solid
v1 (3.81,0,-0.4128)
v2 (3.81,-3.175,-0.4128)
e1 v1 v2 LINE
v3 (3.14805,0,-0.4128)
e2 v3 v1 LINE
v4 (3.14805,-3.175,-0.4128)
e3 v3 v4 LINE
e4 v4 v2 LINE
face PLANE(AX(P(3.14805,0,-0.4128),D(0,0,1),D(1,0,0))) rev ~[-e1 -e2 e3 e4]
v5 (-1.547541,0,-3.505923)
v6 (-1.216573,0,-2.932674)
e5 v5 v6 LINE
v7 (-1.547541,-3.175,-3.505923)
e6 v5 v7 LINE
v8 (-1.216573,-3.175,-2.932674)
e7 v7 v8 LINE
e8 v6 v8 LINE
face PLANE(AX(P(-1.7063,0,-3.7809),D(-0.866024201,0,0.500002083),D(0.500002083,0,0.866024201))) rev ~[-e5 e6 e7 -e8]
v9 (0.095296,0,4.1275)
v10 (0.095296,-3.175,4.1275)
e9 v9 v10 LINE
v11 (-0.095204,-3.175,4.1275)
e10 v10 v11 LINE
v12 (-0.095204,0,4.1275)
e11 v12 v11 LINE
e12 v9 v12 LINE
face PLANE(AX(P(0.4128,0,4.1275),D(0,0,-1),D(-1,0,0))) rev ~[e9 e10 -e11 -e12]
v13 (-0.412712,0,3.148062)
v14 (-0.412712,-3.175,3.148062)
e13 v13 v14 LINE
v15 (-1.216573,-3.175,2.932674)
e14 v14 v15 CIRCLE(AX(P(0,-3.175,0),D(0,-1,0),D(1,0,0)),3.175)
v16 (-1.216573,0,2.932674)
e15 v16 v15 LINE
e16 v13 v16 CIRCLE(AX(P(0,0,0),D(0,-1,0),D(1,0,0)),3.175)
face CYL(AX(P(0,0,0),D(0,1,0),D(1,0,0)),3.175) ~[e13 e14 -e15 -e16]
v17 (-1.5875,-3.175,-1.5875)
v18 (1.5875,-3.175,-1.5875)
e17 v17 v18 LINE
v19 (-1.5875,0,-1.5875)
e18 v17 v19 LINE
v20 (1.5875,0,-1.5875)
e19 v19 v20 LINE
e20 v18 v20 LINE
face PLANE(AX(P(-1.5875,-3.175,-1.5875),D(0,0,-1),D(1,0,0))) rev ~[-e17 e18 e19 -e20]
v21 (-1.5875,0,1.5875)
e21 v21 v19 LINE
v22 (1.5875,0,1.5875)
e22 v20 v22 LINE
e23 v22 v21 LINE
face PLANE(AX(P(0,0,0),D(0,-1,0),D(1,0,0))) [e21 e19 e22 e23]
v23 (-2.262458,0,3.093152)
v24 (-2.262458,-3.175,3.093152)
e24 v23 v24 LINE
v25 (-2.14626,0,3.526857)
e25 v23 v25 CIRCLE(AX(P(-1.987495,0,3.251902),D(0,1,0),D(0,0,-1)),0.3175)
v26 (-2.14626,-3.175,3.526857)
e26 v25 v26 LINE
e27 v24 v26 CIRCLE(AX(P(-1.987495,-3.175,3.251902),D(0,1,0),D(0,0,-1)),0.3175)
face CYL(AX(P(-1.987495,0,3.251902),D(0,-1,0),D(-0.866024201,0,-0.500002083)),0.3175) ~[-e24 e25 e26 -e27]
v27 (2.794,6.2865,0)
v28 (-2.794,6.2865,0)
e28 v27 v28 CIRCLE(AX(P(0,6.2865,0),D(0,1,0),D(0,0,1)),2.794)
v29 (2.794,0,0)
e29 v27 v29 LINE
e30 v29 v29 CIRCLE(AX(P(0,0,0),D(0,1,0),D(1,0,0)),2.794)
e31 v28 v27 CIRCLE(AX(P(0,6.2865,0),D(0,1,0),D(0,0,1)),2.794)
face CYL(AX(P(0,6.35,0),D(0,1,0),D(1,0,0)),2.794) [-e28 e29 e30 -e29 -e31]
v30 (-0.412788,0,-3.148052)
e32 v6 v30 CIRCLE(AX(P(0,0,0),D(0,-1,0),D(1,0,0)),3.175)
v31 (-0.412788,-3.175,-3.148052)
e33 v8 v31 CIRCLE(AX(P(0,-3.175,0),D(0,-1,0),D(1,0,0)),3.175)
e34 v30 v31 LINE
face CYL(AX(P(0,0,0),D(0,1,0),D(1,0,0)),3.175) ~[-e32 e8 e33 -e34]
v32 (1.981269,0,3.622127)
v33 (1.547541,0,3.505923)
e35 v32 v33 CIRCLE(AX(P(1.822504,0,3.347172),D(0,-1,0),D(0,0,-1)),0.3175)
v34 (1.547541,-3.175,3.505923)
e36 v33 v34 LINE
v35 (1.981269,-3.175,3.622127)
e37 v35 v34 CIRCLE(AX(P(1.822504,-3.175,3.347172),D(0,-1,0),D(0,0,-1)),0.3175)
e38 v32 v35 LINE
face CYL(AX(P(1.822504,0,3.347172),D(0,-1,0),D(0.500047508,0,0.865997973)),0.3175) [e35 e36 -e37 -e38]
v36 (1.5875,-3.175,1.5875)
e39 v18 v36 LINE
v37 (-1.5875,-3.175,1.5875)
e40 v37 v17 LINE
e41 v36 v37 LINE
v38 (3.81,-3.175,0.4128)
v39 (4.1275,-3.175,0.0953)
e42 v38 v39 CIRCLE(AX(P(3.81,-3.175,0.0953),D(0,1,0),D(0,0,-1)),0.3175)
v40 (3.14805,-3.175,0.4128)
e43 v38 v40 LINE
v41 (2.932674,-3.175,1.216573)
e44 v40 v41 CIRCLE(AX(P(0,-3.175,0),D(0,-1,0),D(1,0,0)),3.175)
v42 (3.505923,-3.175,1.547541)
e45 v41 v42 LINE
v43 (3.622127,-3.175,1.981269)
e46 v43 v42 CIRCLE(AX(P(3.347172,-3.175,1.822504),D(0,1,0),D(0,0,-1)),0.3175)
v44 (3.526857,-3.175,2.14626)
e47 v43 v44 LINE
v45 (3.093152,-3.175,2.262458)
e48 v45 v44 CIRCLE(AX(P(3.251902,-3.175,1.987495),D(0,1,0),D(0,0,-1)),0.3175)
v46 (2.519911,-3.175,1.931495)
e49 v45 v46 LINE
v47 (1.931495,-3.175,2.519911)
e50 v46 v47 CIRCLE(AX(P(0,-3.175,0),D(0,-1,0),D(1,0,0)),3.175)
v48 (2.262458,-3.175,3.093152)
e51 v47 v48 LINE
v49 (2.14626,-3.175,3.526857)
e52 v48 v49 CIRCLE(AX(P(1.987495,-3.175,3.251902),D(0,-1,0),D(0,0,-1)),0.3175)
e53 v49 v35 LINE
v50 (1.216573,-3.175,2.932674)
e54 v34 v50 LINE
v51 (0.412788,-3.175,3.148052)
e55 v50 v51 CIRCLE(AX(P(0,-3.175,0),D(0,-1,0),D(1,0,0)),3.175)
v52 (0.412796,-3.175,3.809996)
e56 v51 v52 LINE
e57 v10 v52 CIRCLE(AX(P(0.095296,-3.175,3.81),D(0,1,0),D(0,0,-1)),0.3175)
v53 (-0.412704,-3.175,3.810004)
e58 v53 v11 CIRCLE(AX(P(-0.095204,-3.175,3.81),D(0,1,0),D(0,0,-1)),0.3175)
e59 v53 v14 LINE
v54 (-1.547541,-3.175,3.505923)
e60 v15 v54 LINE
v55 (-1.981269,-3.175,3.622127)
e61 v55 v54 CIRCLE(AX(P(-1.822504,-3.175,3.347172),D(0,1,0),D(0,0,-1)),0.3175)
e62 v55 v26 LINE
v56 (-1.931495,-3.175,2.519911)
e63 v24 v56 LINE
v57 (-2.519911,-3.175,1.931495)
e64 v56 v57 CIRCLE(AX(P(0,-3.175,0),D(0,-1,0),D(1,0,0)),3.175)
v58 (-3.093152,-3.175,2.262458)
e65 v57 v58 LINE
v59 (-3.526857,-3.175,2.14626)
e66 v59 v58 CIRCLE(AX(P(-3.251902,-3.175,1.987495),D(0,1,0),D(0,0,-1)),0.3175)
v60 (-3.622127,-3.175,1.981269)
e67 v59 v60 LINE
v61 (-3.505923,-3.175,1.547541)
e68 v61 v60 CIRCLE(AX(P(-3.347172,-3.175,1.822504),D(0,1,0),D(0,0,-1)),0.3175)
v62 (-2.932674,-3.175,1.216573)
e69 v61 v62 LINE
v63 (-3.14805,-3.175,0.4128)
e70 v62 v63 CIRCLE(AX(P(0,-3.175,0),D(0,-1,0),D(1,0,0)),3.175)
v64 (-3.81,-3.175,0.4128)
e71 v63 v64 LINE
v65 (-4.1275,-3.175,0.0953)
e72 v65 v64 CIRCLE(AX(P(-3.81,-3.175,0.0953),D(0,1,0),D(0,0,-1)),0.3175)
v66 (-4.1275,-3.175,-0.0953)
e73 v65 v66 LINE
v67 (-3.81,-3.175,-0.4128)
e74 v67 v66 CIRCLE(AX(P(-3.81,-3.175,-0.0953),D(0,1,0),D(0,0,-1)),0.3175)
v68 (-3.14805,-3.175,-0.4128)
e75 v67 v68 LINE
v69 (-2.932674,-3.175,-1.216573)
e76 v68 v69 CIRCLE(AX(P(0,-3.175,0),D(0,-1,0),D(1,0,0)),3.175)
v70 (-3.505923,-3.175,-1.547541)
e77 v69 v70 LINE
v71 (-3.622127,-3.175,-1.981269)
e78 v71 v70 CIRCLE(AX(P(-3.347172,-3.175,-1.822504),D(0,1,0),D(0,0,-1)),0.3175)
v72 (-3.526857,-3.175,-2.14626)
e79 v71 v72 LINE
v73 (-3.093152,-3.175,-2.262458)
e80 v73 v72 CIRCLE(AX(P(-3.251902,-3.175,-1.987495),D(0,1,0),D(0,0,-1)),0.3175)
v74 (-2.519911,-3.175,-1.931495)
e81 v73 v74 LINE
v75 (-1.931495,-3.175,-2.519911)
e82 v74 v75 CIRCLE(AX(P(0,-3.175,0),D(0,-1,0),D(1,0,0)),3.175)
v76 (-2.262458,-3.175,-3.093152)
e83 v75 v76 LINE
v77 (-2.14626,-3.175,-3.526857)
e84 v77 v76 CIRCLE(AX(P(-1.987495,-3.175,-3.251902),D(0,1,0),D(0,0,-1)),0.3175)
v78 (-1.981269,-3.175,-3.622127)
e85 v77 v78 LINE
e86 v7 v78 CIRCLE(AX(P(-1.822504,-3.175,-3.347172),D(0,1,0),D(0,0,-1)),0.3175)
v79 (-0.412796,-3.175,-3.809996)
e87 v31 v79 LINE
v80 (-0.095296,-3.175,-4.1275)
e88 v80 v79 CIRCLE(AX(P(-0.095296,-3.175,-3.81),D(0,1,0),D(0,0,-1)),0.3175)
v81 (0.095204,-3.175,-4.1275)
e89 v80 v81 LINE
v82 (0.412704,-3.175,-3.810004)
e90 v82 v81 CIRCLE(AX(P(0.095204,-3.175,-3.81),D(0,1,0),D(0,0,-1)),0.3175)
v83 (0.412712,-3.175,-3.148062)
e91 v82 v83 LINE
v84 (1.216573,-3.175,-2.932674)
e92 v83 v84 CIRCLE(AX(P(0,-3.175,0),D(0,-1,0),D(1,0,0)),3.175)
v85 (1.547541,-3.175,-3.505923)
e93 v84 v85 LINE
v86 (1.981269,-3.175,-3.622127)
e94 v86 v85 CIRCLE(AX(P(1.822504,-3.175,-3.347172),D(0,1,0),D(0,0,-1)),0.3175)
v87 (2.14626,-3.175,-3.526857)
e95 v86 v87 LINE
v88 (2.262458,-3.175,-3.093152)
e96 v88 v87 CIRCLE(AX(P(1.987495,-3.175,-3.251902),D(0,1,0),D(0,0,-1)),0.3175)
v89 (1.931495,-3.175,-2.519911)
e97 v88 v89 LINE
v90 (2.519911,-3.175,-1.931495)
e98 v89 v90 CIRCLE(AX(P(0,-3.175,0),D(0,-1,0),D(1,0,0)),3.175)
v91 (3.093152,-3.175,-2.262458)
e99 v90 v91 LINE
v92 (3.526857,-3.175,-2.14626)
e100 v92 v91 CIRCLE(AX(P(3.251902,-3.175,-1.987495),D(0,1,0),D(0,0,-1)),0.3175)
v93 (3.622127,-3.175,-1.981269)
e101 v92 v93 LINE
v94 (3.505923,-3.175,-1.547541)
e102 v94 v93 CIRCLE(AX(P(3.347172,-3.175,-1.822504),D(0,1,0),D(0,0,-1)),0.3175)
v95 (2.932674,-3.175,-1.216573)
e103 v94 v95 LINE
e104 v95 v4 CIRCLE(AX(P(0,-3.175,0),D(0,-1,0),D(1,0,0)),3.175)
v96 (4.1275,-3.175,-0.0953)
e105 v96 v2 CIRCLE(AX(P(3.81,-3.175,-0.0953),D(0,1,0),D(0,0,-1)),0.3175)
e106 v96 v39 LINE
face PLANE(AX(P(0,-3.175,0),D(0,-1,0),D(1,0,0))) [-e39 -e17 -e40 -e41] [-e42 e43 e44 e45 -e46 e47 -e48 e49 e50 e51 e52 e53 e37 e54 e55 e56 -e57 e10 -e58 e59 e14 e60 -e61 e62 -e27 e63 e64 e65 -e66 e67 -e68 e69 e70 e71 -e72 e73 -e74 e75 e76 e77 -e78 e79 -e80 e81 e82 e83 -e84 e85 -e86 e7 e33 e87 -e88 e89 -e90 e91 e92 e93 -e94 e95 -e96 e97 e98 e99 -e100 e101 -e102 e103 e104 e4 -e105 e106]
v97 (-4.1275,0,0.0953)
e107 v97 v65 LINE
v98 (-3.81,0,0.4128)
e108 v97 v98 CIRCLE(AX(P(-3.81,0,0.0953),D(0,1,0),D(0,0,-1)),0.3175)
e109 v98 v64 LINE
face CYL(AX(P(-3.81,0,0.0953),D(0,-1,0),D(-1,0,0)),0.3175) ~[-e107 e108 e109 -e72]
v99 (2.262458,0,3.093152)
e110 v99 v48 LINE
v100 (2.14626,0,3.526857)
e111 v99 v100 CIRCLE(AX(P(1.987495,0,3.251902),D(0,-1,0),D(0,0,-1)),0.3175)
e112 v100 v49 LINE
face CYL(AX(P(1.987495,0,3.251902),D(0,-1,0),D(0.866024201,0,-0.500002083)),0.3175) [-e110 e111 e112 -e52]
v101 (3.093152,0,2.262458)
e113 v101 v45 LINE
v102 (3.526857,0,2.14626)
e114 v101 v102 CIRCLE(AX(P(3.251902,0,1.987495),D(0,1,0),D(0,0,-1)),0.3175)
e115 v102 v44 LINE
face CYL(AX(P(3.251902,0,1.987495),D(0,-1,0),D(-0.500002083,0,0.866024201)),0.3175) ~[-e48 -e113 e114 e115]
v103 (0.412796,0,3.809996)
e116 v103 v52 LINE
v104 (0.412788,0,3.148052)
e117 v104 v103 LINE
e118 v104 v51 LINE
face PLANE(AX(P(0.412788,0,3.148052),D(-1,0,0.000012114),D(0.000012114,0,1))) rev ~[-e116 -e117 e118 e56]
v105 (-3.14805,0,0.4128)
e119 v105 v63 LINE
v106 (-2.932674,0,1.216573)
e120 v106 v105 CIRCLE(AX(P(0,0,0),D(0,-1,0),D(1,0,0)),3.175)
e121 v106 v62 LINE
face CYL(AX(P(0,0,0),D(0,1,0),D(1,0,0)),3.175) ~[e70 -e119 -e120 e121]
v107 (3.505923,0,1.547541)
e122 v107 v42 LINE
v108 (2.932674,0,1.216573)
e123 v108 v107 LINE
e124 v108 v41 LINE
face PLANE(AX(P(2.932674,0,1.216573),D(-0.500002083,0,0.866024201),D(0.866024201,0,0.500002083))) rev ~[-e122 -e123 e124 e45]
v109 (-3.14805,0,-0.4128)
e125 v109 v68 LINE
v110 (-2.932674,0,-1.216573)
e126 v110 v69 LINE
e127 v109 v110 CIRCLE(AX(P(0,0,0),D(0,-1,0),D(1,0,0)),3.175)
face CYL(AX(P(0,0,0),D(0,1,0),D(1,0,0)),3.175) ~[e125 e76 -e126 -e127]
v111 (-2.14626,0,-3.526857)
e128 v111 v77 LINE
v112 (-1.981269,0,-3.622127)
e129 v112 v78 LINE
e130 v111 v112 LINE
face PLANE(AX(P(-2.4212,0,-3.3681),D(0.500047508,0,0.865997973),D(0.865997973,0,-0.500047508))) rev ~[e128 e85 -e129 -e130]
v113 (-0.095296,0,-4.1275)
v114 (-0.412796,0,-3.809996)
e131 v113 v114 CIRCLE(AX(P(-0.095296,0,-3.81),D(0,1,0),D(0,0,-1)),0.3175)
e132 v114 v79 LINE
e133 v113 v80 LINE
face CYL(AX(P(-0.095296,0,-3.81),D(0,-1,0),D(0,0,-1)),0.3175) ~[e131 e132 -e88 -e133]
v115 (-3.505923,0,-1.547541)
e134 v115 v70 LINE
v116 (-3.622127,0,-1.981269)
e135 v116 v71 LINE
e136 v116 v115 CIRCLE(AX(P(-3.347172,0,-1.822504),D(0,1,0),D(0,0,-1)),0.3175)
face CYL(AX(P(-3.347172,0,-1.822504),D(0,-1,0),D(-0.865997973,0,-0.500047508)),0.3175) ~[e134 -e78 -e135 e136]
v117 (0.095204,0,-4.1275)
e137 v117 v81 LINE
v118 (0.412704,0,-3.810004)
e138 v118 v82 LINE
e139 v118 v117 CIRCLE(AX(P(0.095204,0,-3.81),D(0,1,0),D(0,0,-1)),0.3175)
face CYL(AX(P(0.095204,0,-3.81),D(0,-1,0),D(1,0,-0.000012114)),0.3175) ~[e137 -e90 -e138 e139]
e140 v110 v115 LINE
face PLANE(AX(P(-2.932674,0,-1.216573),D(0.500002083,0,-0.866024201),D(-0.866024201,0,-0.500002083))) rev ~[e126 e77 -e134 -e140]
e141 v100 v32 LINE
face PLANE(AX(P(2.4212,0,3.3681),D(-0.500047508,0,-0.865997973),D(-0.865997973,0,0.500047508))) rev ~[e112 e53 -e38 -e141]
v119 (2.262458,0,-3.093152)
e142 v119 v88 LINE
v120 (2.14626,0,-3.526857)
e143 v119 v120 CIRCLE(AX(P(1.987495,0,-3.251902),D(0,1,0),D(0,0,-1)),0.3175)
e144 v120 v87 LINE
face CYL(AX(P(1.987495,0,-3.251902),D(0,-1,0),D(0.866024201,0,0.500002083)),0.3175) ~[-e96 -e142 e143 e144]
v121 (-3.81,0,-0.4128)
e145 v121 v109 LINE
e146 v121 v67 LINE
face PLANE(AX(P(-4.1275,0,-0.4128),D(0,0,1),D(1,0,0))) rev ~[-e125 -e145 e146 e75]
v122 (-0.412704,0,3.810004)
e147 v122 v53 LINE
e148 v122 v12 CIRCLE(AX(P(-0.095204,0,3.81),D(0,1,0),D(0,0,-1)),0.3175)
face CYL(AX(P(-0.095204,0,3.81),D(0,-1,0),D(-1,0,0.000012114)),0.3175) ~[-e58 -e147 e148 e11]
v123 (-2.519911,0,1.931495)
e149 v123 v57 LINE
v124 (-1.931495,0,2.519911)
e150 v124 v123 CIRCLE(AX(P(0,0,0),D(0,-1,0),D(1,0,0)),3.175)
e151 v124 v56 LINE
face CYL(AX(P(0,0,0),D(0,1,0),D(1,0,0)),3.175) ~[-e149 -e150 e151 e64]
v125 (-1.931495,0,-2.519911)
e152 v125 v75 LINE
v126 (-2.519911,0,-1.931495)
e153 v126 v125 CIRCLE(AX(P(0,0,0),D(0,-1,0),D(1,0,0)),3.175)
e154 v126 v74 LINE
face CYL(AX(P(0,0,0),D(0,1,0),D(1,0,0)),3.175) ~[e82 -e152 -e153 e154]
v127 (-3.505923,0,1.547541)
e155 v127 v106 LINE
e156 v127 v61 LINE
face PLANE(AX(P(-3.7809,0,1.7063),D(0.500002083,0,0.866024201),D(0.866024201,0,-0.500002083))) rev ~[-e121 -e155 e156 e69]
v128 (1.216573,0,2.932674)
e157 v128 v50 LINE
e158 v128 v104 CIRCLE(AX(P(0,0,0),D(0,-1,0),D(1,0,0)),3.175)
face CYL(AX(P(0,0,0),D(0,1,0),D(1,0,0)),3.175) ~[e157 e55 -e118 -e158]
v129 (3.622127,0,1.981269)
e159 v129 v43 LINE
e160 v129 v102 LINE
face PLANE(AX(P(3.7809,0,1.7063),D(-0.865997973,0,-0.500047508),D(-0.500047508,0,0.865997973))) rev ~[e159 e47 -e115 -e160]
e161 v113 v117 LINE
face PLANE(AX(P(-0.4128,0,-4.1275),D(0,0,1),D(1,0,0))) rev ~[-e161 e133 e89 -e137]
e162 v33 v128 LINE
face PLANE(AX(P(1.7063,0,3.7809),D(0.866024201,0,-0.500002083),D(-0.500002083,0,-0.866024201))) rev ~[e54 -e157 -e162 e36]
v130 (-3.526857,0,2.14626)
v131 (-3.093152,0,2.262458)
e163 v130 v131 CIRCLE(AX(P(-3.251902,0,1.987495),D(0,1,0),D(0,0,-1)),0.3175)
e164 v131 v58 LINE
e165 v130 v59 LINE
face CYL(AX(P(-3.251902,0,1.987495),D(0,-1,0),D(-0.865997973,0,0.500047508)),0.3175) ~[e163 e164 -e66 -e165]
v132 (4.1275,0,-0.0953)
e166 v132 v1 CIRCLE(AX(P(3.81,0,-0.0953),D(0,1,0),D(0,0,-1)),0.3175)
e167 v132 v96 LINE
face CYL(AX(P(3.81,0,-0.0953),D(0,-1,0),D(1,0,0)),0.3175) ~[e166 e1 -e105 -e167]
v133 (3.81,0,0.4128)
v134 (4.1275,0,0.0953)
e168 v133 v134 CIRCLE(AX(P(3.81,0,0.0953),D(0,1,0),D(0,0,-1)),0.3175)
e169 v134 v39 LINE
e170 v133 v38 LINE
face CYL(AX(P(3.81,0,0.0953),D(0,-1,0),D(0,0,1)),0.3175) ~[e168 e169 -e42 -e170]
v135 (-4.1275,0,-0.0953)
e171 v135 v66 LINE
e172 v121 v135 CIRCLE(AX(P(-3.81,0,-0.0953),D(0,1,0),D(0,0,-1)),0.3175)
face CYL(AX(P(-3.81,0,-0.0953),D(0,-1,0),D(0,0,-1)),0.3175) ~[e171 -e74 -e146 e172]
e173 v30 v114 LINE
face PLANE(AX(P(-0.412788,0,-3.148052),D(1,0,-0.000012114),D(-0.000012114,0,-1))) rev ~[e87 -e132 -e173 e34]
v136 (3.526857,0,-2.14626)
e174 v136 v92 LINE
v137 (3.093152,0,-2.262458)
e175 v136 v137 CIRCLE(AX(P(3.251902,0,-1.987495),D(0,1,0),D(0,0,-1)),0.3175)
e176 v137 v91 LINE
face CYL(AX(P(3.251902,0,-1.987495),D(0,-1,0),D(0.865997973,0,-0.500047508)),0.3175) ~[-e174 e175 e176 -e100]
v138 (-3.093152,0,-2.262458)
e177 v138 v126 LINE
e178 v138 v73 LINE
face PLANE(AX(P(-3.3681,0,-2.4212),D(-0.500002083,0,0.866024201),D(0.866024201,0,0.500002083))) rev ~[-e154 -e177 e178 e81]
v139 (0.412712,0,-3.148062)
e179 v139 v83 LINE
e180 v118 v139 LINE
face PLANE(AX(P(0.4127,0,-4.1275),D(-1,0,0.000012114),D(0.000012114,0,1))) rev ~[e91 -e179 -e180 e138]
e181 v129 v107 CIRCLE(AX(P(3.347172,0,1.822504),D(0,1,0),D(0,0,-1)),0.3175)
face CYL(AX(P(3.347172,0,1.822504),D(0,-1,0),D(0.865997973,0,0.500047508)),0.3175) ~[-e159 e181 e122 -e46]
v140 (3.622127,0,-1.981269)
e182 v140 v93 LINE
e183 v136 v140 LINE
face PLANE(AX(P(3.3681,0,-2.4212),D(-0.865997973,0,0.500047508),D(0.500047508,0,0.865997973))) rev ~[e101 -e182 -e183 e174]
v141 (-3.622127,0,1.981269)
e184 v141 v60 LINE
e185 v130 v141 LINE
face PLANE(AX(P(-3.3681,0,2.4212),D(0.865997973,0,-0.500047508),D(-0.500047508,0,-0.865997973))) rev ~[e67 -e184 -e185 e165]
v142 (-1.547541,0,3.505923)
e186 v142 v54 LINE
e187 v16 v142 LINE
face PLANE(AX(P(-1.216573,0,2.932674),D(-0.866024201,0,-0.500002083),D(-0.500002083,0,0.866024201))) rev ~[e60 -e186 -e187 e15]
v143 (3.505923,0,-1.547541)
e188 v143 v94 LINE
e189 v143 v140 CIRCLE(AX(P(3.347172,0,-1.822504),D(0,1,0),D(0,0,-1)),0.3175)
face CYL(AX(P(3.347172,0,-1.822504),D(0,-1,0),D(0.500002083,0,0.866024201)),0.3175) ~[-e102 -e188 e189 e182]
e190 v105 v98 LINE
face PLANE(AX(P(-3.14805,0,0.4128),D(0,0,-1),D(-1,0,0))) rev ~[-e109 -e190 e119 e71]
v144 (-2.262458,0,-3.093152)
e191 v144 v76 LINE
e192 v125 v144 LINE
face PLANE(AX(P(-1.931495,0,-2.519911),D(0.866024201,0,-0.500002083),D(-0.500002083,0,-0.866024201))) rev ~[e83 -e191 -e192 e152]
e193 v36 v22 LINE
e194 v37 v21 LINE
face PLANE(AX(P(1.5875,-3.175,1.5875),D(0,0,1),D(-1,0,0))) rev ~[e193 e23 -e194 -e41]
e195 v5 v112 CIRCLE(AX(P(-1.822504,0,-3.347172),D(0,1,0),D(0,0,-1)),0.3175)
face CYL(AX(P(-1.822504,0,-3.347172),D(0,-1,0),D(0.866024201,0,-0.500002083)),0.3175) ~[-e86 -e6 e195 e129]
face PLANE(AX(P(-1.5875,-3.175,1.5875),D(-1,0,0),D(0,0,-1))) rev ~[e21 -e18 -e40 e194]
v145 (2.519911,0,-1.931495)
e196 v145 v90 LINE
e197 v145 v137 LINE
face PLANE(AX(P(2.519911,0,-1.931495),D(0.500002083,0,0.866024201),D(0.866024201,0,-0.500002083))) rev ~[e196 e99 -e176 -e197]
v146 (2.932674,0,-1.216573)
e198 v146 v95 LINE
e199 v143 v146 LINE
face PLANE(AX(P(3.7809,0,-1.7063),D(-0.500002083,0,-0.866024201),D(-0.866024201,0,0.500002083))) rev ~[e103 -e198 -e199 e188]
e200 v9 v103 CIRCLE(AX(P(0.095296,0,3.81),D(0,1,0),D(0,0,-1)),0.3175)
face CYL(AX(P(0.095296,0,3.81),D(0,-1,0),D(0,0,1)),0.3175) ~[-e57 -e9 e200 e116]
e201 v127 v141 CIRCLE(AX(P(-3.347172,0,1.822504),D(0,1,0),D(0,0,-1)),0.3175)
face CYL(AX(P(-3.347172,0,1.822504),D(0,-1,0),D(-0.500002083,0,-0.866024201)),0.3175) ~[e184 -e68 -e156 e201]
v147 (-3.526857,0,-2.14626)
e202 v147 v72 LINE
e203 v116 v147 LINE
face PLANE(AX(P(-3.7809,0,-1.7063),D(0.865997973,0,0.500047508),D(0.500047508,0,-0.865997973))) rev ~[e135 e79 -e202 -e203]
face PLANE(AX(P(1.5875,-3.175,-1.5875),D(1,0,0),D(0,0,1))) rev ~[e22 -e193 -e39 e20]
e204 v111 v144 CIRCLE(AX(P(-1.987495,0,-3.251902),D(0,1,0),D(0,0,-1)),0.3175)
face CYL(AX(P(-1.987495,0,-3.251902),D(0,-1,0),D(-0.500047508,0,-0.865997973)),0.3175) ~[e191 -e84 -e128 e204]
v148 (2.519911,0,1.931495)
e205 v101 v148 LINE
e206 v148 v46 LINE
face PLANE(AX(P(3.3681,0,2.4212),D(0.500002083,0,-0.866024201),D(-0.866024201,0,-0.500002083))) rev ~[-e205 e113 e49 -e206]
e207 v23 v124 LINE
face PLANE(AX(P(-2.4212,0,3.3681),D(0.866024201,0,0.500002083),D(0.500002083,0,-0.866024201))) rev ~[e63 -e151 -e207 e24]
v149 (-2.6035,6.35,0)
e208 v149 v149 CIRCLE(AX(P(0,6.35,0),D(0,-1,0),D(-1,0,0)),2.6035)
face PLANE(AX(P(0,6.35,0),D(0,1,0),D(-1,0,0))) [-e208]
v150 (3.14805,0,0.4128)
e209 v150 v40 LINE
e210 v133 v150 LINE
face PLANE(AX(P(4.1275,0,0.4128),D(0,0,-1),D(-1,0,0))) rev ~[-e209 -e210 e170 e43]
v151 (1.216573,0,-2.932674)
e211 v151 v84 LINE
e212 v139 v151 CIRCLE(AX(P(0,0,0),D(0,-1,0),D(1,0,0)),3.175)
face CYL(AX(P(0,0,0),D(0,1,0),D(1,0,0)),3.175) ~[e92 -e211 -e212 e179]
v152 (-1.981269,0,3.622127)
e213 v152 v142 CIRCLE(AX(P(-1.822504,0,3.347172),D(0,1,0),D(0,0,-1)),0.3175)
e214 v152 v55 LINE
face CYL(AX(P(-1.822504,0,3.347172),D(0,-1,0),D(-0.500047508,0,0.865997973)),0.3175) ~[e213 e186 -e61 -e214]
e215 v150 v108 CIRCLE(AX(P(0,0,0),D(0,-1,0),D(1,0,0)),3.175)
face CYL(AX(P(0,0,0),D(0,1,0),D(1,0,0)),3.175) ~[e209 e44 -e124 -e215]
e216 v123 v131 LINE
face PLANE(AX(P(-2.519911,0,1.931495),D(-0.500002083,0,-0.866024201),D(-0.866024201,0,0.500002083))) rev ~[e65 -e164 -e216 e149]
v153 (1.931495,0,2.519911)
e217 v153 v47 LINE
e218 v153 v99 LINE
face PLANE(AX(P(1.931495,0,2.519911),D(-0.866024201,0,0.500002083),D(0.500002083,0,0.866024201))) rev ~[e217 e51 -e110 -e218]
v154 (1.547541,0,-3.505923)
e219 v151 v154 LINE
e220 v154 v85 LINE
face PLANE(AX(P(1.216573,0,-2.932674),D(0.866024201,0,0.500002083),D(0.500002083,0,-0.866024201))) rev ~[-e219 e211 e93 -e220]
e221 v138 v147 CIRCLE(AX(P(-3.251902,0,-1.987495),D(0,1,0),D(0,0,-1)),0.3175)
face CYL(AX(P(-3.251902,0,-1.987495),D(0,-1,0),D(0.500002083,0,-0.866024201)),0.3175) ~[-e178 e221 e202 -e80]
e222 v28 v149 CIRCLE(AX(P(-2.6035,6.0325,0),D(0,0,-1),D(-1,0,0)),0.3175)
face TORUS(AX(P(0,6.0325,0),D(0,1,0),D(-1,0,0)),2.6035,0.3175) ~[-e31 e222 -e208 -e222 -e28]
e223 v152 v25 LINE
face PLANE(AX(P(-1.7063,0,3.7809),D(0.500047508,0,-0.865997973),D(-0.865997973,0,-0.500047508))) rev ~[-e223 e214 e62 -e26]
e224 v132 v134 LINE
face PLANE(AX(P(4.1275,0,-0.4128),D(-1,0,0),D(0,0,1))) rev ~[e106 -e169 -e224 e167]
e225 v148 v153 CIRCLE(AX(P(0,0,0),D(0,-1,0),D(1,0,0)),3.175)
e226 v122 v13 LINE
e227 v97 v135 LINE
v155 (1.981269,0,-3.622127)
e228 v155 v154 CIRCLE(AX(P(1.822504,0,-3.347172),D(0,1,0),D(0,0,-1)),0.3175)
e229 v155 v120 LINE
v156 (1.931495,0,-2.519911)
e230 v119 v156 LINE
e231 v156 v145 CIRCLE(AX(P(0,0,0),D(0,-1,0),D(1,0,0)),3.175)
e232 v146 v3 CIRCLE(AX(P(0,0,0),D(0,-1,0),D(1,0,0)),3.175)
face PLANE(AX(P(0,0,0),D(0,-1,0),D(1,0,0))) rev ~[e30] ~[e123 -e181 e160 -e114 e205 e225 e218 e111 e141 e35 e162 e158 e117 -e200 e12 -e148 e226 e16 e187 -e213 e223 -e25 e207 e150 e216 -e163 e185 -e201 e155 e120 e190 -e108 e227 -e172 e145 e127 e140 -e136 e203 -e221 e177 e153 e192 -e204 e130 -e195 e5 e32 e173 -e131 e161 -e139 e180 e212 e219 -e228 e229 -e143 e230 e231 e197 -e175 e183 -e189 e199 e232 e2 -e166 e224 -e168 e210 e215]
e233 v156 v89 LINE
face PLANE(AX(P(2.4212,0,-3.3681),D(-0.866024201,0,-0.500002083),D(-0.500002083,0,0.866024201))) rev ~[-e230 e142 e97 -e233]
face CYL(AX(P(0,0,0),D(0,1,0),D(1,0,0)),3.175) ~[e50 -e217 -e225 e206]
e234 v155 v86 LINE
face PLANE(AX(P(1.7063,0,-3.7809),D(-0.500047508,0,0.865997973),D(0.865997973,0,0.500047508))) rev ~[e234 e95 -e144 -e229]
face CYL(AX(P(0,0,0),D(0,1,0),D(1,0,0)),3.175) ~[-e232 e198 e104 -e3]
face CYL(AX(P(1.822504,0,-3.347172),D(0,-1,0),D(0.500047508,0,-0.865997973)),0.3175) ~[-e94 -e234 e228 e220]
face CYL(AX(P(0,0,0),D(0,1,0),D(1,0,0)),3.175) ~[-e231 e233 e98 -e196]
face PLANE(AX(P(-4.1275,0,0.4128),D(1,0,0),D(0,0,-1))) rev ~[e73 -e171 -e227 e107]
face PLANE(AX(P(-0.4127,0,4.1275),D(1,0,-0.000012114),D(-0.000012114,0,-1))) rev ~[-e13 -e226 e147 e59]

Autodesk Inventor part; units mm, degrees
ref_plane "YZ Plane" through (0, 0, 0) normal (1, 0, 0) x (0, 1, 0)
ref_plane "XZ Plane" through (0, 0, 0) normal (0, 1, 0) x (-1, 0, 0)
ref_plane "XY Plane" through (0, 0, 0) normal (0, 0, 1) x (1, 0, 0)
sketch "Sketch1" plane through (0, 0, 0) normal (0, 1, 0) x (-1, 0, 0)
  circle A0 centre (0, 0) radius 2.921
  dimension "d0" = 5.842
extrude "Extrusion1" add sketch "Sketch1" along normal blind 6.35
sketch "Sketch2" plane through (0, 0, 0) normal (0, -1, 0) x (1, 0, 0)
  circle A0 centre (0, 0) radius 2.921
  line L0 (-4.1275, -0.4128) -> (4.1275, -0.4128)
  line L1 (4.1275, -0.4128) -> (4.1275, 0.4128)
  line L2 (4.1275, 0.4128) -> (-4.1275, 0.4128)
  line L3 (-4.1275, 0.4128) -> (-4.1275, -0.4128)
  line L4 (-4.1275, -0.4128) -> (4.1275, 0.4128) construction
  line L5 (4.1275, -0.4128) -> (-4.1275, 0.4128) construction
  line L6 (3.7809, 1.7063) -> (3.3681, 2.4212)
  line L7 (-3.3681, -2.4212) -> (3.7809, 1.7063)
  line L8 (3.3681, 2.4212) -> (-3.7809, -1.7063)
  line L9 (-3.7809, -1.7063) -> (-3.3681, -2.4212)
  line L10 (2.4212, 3.3681) -> (1.7063, 3.7809)
  line L11 (-1.7063, -3.7809) -> (2.4212, 3.3681)
  line L12 (1.7063, 3.7809) -> (-2.4212, -3.3681)
  line L13 (-2.4212, -3.3681) -> (-1.7063, -3.7809)
  line L14 (0.4128, 4.1275) -> (-0.4127, 4.1275)
  line L15 (0.4127, -4.1275) -> (0.4128, 4.1275)
  line L16 (-0.4127, 4.1275) -> (-0.4128, -4.1275)
  line L17 (-0.4128, -4.1275) -> (0.4127, -4.1275)
  line L18 (-1.7063, 3.7809) -> (-2.4212, 3.3681)
  line L19 (2.4212, -3.3681) -> (-1.7063, 3.7809)
  line L20 (-2.4212, 3.3681) -> (1.7063, -3.7809)
  line L21 (1.7063, -3.7809) -> (2.4212, -3.3681)
  line L22 (-3.3681, 2.4212) -> (-3.7809, 1.7063)
  line L23 (3.7809, -1.7063) -> (-3.3681, 2.4212)
  line L24 (-3.7809, 1.7063) -> (3.3681, -2.4212)
  line L25 (3.3681, -2.4212) -> (3.7809, -1.7063)
  line L26 (-4.1275, 0.4128) -> (-4.1275, -0.4127)
  line L27 (4.1275, 0.4127) -> (-4.1275, 0.4128)
  line L28 (-4.1275, -0.4127) -> (4.1275, -0.4128)
  line L29 (4.1275, -0.4128) -> (4.1275, 0.4127)
  line L30 (-3.7809, -1.7063) -> (-3.3681, -2.4212)
  line L31 (3.3681, 2.4212) -> (-3.7809, -1.7063)
  line L32 (-3.3681, -2.4212) -> (3.7809, 1.7063)
  line L33 (3.7809, 1.7063) -> (3.3681, 2.4212)
  line L34 (-2.4212, -3.3681) -> (-1.7063, -3.7809)
  line L35 (1.7063, 3.7809) -> (-2.4212, -3.3681)
  line L36 (-1.7063, -3.7809) -> (2.4212, 3.3681)
  line L37 (2.4212, 3.3681) -> (1.7063, 3.7809)
  line L38 (-0.4128, -4.1275) -> (0.4127, -4.1275)
  line L39 (-0.4127, 4.1275) -> (-0.4128, -4.1275)
  line L40 (0.4127, -4.1275) -> (0.4128, 4.1275)
  line L41 (0.4128, 4.1275) -> (-0.4127, 4.1275)
  line L42 (1.7063, -3.7809) -> (2.4212, -3.3681)
  line L43 (-2.4212, 3.3681) -> (1.7063, -3.7809)
  line L44 (2.4212, -3.3681) -> (-1.7063, 3.7809)
  line L45 (-1.7063, 3.7809) -> (-2.4212, 3.3681)
  line L46 (3.3681, -2.4212) -> (3.7809, -1.7063)
  line L47 (-3.7809, 1.7063) -> (3.3681, -2.4212)
  line L48 (3.7809, -1.7063) -> (-3.3681, 2.4212)
  line L49 (-3.3681, 2.4212) -> (-3.7809, 1.7063)
  circle A1 centre (0, 0) radius 3.175
  circle A2 centre (0, 0) radius 3.175
  point P0 (2.9327, -1.2166)
  point P1 (3.1481, -0.4127)
  point P2 (3.1481, 0.4128)
  point P3 (2.9327, 1.2166)
  point P4 (2.5199, 1.9315)
  point P5 (1.9315, 2.5199)
  point P6 (1.2166, 2.9327)
  point P7 (0.4128, 3.1481)
  point P8 (-0.4128, 3.1481)
  point P9 (-1.2166, 2.9327)
  point P10 (-1.9315, 2.5199)
  point P11 (-2.5199, 1.9315)
  point P12 (-2.9327, 1.2166)
  point P13 (-3.1481, 0.4127)
  point P14 (-3.1481, -0.4128)
  point P15 (-2.9327, -1.2166)
  point P16 (-2.5199, -1.9315)
  point P17 (-1.9315, -2.5199)
  point P18 (-1.2166, -2.9327)
  point P19 (-0.4128, -3.1481)
  point P20 (0.4127, -3.1481)
  point P21 (1.2166, -2.9327)
  point P22 (1.9315, -2.5199)
  point P23 (2.5199, -1.9315)
  dimension "d5" = 8.255
  dimension "d6" = 0.8255
  dimension "d7" = 360
extrude "Extrusion2" add sketch "Sketch2" along normal blind 3.175
fillet "Fillet1" radius 0.3175 2 edges at (2.4212, -1.5875, 3.3681) (1.7063, -1.5875, 3.7809)
pattern_circular "Circular Pattern1" count 12 over 360 about axis through (0, 0, 0) along (0, 1, 0) of "Fillet1", "Extrusion1"
fillet "Fillet2" radius 0.3175 1 edges at (2.921, 6.35, 0)
sketch "Sketch3" plane through (0, -3.175, 0) normal (0, -1, 0) x (1, 0, 0)
  line L0 (-1.5875, -1.5875) -> (1.5875, -1.5875)
  line L1 (1.5875, -1.5875) -> (1.5875, 1.5875)
  line L2 (1.5875, 1.5875) -> (-1.5875, 1.5875)
  line L3 (-1.5875, 1.5875) -> (-1.5875, -1.5875)
  line L4 (-1.5875, -1.5875) -> (1.5875, 1.5875) construction
  line L5 (1.5875, -1.5875) -> (-1.5875, 1.5875) construction
  point P0 (0, 0)
  dimension "d15" = 3.175
  dimension "d16" = 3.175
extrude "Extrusion3" cut sketch "Sketch3" against normal blind 3.175
sketch "Sketch4" plane through (0, 6.35, 0) normal (0, 1, 0) x (1, 0, 0)
  circle A0 centre (0, 0) radius 2.921
  circle A1 centre (0, 0) radius 2.921 projected
  circle A2 centre (0, 0) radius 2.794
  dimension "d19" = 5.588
extrude "Extrusion4" cut sketch "Sketch4" against normal blind 6.35
properties part number "Gear1"
